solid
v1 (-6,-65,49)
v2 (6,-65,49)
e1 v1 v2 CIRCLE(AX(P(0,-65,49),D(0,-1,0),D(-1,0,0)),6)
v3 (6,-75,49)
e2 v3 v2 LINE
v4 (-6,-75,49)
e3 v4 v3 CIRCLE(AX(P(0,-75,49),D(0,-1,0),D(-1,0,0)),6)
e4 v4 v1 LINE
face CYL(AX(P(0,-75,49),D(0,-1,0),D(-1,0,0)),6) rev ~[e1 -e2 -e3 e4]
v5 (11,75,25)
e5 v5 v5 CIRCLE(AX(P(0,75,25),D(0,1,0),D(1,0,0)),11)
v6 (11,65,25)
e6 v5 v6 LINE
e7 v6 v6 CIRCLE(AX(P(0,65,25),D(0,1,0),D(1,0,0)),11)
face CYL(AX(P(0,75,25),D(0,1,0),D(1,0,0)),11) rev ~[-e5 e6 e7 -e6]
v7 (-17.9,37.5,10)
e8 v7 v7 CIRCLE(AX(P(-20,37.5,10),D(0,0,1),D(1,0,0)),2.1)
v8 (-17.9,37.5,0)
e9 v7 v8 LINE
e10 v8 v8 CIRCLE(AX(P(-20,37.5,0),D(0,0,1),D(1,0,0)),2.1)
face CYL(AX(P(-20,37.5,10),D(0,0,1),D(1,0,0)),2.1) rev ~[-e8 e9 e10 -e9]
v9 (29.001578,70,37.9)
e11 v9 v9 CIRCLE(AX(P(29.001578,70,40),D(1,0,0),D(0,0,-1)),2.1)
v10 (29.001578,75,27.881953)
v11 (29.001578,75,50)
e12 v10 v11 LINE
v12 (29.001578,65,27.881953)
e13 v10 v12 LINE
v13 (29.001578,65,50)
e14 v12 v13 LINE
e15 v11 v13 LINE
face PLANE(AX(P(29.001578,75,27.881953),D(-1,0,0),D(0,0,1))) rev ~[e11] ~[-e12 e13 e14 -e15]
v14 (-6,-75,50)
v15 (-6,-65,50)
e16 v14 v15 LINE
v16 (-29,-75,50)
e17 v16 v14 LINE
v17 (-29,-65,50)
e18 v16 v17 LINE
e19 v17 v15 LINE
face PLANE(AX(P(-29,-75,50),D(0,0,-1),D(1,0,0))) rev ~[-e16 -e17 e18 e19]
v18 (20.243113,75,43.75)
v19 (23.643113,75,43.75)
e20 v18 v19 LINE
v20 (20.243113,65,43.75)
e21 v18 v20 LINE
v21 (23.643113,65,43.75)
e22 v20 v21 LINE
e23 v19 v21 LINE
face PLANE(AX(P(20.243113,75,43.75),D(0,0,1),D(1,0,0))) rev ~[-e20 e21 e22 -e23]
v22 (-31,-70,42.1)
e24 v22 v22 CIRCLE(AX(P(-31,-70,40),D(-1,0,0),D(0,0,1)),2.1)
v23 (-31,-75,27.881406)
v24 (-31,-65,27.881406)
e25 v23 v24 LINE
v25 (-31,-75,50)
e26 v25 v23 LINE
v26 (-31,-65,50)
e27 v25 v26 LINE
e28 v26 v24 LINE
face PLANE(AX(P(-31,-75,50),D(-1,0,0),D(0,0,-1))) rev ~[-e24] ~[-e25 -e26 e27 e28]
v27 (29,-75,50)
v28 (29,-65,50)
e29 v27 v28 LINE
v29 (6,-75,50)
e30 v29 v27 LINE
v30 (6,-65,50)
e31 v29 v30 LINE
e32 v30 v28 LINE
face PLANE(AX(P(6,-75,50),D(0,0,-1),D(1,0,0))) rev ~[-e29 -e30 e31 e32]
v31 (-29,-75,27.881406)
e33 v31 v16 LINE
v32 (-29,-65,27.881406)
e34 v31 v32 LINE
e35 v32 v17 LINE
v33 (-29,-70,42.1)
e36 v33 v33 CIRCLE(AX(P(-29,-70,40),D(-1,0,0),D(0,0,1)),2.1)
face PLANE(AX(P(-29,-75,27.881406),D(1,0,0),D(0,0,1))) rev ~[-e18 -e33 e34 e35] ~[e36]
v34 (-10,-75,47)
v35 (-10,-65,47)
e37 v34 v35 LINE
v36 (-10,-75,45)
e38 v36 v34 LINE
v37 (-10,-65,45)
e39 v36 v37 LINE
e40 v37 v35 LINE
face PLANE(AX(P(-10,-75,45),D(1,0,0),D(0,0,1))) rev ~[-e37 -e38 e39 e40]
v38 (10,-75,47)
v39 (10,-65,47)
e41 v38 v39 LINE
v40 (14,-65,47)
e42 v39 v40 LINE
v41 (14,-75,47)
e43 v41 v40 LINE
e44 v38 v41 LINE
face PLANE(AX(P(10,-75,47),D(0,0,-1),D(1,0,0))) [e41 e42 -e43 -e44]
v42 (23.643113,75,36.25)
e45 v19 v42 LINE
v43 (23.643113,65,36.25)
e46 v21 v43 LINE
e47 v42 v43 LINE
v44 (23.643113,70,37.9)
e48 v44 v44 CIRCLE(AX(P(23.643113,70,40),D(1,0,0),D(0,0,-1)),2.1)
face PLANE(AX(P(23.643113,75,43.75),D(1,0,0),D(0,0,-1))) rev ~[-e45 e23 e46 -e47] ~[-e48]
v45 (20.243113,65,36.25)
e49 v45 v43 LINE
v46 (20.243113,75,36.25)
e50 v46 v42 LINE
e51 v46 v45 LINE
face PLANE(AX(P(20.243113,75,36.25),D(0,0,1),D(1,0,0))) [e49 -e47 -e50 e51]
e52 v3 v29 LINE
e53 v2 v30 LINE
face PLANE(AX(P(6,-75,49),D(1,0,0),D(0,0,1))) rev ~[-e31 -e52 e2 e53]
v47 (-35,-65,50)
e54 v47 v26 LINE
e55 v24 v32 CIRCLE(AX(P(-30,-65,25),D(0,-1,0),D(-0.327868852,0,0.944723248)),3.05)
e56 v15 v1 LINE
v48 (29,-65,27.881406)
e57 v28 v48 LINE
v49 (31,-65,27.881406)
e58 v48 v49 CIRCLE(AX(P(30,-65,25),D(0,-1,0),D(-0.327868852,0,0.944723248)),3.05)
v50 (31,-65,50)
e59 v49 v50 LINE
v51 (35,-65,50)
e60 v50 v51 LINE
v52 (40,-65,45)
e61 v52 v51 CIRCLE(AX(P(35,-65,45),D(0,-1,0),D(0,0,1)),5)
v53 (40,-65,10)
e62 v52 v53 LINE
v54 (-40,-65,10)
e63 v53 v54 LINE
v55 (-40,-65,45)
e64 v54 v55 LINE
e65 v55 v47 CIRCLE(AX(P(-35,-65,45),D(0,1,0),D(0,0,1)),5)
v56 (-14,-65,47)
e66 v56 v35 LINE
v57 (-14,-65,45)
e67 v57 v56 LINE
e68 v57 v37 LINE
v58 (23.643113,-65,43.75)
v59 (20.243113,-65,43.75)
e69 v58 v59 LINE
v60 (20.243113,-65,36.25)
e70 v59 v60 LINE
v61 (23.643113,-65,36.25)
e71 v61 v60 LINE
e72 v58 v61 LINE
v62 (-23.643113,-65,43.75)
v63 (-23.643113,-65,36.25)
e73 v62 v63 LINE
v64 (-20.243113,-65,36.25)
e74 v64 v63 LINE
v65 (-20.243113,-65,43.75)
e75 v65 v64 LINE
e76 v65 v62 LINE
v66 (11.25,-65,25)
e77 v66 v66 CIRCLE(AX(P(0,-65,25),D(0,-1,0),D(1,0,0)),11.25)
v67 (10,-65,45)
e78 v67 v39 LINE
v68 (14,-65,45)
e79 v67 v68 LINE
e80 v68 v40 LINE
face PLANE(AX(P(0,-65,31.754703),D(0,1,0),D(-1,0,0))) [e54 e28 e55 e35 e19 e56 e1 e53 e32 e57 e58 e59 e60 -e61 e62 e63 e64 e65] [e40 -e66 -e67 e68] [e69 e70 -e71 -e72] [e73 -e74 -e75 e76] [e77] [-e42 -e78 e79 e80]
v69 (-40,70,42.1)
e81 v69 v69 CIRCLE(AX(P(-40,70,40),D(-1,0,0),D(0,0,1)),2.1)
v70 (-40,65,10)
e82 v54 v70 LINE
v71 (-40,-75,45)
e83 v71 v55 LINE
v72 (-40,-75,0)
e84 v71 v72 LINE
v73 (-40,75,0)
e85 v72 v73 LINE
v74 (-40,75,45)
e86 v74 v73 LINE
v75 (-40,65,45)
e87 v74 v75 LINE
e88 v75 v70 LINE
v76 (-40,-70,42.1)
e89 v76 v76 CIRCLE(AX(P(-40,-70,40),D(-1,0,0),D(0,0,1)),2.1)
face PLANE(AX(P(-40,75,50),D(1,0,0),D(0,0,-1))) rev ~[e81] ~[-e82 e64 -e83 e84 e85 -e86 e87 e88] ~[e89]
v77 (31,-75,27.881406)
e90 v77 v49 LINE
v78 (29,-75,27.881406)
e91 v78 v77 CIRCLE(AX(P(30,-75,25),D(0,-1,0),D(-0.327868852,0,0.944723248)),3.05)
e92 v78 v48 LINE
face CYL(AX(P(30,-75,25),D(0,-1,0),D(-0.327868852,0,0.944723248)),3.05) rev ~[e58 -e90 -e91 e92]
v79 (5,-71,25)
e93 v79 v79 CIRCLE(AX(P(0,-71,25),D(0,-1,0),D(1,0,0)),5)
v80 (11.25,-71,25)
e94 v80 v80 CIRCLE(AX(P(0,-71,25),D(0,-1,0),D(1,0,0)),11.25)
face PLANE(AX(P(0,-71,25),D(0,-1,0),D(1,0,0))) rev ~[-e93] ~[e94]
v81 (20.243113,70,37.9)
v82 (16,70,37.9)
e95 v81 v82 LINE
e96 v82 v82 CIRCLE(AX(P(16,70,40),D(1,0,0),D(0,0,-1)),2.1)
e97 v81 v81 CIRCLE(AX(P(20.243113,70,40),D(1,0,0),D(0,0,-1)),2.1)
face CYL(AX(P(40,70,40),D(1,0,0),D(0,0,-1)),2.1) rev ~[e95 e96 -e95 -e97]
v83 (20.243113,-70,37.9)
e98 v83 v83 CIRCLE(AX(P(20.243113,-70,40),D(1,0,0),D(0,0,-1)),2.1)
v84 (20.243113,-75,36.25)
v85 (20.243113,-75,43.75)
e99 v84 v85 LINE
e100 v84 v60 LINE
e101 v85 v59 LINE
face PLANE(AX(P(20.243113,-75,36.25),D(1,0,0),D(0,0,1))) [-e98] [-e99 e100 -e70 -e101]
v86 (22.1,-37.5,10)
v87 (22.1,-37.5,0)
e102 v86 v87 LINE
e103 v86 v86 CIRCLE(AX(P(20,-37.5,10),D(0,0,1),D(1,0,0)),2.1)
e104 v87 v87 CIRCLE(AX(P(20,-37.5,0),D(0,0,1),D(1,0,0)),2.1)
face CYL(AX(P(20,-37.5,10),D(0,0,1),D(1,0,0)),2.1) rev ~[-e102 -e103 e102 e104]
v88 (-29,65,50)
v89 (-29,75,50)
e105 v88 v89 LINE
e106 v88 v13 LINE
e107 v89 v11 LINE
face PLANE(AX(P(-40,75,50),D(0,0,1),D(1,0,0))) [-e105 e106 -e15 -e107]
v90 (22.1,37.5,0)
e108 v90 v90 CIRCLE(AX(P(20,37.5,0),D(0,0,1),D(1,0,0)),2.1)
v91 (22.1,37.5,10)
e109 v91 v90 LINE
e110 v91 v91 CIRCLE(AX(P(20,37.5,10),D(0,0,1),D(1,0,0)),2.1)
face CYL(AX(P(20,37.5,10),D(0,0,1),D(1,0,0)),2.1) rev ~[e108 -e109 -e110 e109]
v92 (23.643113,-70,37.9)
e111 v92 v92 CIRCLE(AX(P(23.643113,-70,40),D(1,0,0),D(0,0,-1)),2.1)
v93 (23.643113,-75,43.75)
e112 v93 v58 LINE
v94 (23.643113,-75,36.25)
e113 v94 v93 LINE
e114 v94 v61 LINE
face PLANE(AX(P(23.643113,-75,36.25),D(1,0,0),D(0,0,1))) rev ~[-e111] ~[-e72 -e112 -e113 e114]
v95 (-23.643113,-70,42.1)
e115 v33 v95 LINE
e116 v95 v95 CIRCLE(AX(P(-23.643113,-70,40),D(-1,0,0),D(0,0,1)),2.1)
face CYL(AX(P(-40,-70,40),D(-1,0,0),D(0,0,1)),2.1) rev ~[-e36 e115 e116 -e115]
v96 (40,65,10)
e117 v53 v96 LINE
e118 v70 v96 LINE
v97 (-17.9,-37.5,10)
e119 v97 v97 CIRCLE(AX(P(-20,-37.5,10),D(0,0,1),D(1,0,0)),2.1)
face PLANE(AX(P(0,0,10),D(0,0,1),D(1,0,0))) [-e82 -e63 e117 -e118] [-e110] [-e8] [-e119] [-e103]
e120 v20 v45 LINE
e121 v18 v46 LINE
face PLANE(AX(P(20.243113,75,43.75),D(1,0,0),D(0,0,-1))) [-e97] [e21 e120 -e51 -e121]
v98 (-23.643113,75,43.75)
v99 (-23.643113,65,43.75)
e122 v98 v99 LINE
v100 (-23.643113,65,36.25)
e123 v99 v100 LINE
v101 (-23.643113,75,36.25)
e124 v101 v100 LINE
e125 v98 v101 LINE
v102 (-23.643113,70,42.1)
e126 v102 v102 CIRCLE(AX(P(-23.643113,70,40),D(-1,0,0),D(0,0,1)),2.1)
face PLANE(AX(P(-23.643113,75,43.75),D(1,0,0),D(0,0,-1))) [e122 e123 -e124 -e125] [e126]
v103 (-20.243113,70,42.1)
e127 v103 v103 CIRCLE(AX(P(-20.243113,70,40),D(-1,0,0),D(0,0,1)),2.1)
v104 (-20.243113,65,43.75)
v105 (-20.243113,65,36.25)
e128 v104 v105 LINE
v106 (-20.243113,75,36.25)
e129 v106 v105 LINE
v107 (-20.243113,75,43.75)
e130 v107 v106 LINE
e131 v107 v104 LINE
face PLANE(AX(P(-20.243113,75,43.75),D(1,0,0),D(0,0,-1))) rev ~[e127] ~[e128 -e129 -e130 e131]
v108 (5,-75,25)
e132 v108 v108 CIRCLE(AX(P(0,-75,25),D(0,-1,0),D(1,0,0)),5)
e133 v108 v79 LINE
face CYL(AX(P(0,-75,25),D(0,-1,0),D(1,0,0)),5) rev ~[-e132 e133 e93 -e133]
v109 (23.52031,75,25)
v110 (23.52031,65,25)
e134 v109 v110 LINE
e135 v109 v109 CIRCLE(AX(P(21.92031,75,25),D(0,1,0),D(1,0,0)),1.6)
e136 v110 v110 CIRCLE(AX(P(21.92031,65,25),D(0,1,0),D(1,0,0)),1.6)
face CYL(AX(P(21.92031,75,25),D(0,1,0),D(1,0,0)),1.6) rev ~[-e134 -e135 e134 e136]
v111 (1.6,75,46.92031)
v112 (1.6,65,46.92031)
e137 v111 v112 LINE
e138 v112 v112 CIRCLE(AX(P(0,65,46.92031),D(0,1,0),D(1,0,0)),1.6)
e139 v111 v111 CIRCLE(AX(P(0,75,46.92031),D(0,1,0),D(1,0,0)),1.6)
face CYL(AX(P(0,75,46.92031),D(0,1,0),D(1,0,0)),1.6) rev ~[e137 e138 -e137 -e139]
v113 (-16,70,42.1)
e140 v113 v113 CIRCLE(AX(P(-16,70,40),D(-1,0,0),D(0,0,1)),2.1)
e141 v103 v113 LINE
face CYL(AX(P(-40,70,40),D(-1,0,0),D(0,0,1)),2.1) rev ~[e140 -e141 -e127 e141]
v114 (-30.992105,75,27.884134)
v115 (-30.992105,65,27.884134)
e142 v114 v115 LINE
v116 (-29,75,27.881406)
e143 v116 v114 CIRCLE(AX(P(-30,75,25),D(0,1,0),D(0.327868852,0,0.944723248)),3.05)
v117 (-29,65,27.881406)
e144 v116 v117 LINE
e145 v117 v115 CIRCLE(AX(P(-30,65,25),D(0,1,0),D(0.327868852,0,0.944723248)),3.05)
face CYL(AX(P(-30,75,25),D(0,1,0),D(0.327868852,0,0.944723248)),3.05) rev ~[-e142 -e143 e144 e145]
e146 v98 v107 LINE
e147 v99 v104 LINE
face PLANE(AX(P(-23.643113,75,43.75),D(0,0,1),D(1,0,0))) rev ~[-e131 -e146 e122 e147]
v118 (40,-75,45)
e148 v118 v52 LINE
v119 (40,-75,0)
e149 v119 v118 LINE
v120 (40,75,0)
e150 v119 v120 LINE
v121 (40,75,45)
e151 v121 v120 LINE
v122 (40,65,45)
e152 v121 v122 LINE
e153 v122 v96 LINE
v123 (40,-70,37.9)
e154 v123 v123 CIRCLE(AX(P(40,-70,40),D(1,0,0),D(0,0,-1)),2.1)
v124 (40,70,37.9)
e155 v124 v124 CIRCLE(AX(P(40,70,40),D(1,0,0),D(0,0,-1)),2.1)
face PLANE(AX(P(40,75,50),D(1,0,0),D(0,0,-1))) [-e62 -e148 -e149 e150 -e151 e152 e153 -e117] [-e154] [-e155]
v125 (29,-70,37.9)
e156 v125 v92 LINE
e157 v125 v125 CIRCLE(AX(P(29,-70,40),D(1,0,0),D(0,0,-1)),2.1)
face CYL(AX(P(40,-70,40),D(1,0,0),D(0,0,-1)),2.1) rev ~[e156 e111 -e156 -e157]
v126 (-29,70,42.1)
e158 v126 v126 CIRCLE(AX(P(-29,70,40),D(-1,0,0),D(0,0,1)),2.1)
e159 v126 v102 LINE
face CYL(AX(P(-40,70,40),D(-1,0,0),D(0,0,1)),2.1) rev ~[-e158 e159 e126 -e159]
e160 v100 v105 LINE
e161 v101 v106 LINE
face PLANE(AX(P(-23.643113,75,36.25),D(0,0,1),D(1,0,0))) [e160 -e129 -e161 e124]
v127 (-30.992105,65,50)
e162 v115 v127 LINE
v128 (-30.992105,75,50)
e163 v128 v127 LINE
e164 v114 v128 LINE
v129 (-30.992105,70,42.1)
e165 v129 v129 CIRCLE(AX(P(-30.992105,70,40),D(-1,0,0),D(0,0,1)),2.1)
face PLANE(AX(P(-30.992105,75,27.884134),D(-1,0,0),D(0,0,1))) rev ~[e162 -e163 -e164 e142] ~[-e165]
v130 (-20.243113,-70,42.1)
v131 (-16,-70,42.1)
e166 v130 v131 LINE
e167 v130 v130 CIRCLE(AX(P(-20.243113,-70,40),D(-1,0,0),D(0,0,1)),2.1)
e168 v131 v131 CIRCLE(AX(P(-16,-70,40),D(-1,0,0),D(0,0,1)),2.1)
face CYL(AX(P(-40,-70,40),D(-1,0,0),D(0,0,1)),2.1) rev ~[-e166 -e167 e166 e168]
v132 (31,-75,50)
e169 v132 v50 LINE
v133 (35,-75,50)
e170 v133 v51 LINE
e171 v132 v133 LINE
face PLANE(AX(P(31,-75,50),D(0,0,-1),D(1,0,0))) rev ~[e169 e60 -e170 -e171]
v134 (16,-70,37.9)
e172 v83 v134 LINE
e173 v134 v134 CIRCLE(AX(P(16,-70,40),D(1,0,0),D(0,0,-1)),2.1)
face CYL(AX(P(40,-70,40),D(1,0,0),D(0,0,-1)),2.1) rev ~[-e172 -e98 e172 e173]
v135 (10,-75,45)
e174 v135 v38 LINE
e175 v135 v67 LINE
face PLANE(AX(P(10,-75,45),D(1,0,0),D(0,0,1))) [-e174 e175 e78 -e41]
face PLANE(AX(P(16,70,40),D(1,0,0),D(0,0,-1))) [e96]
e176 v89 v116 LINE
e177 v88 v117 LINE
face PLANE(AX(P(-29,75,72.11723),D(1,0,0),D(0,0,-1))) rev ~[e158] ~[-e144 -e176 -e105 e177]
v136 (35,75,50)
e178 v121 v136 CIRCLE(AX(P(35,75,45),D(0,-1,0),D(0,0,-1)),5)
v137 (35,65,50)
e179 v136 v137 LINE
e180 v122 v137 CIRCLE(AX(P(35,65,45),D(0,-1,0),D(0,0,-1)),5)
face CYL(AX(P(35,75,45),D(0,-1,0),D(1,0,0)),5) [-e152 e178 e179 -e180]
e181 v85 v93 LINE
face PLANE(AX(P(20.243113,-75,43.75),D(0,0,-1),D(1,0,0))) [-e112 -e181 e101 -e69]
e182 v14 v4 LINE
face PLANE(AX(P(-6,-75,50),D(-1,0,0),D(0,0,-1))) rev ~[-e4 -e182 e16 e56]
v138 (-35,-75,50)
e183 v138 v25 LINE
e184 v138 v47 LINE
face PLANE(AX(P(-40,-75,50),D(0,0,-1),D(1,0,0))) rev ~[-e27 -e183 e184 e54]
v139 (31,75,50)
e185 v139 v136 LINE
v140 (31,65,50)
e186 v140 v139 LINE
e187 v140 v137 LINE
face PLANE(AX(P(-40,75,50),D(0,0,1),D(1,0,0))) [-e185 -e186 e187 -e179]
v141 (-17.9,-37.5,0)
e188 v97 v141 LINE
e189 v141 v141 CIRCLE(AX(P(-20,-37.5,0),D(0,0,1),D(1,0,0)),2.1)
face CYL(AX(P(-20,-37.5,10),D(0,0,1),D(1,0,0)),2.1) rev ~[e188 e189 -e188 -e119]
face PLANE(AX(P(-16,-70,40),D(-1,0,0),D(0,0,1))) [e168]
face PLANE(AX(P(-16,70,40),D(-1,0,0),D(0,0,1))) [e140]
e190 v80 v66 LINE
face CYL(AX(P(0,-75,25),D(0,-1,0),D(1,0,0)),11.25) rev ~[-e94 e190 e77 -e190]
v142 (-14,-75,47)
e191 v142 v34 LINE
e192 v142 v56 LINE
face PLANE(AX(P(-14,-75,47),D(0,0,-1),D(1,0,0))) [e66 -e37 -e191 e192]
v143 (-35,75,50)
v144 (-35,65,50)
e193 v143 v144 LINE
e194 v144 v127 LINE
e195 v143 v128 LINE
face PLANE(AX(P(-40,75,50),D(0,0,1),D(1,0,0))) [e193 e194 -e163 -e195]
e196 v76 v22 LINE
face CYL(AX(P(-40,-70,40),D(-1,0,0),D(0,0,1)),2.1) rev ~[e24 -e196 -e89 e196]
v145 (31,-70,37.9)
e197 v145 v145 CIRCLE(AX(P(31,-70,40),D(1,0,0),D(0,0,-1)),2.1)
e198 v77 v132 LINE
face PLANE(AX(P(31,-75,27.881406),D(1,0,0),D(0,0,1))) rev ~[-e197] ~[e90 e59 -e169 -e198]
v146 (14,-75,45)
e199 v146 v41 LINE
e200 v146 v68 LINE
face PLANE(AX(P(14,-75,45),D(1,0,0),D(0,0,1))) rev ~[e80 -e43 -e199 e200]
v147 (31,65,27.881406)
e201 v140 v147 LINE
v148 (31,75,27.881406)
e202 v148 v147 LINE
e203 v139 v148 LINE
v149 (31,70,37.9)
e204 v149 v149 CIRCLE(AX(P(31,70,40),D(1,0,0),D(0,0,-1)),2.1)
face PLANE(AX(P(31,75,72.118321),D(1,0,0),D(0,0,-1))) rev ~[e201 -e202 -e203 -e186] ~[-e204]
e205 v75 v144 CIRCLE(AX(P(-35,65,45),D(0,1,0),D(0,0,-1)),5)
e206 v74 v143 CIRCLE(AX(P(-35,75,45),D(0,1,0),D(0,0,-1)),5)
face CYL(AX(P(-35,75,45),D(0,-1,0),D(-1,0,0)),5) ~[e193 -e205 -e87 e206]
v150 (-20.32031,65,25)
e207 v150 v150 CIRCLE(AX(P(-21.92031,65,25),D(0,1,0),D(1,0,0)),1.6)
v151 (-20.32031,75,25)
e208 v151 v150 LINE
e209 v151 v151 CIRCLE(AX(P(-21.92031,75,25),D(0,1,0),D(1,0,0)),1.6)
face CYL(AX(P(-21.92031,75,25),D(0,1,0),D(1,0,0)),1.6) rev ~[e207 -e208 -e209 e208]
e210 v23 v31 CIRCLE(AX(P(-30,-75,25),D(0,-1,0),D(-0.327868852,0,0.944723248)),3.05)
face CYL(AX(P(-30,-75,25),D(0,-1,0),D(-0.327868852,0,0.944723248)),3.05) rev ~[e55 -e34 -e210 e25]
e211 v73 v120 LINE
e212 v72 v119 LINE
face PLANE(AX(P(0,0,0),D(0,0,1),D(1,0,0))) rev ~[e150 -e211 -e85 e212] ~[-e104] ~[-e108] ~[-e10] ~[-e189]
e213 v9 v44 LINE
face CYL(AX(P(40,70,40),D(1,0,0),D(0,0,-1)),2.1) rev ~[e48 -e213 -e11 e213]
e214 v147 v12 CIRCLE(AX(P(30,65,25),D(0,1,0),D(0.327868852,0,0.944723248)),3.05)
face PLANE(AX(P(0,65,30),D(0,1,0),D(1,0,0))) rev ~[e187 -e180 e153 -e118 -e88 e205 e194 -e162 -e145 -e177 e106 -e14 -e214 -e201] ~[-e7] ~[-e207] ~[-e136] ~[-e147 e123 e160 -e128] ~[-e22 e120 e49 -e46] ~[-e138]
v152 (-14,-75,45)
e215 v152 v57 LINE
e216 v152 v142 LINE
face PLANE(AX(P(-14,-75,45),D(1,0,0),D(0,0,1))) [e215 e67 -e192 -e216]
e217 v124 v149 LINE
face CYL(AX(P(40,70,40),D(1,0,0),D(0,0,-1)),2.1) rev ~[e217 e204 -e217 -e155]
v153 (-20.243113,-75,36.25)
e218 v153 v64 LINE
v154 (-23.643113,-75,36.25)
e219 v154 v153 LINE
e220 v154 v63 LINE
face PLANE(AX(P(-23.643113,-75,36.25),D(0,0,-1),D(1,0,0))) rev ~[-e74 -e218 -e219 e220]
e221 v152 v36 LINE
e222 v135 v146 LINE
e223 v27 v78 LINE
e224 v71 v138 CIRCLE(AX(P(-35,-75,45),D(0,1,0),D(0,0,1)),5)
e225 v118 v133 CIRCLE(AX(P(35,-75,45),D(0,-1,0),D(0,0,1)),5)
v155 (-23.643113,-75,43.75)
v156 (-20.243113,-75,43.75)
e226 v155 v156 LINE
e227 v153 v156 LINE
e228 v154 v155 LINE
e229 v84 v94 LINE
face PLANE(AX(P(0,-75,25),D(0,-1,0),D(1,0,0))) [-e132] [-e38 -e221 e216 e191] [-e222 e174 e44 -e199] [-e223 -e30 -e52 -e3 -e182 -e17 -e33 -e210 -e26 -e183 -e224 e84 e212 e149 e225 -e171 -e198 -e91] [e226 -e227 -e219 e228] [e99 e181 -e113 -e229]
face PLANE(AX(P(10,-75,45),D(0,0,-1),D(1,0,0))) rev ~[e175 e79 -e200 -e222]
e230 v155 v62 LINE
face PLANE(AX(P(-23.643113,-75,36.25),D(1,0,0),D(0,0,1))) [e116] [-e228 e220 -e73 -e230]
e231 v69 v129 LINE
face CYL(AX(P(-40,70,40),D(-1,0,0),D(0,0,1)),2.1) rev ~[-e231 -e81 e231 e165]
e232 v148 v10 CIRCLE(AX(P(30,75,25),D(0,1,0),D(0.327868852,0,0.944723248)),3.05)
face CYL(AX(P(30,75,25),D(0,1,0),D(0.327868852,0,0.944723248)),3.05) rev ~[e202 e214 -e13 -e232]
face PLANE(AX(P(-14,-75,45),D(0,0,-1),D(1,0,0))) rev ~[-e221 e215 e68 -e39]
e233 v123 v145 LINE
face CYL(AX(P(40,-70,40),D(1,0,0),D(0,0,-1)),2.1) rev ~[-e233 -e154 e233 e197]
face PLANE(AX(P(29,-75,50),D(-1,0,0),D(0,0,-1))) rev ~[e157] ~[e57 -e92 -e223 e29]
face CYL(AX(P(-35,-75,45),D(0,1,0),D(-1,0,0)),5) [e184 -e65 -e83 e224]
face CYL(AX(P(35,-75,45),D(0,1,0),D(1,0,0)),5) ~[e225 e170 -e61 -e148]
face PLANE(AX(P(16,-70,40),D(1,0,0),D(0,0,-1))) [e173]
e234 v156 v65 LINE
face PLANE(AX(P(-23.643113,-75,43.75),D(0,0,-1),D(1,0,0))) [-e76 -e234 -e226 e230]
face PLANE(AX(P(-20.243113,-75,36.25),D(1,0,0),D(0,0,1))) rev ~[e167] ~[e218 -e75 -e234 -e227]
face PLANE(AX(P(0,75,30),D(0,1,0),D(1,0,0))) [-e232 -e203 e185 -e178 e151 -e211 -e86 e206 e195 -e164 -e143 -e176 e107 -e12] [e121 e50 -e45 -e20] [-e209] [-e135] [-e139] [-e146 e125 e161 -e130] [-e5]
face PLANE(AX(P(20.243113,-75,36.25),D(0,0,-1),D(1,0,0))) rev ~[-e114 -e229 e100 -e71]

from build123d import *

# Parameters (mm, degrees)
SKETCH_1_W           = 80
SKETCH_1_H           = 150
EXTRUDE_1_DEPTH      = 10
SKETCH_4_R           = 11.25
EXTRUDE_3_DEPTH      = 10
SKETCH_5_R           = 11.25
SKETCH_5_R_2         = 5
EXTRUDE_4_DEPTH      = 4
SKETCH_6_R           = 2.1
CUT_EXTRUDE_1_DEPTH  = 24
SKETCH_7_W           = 3.4
SKETCH_7_H           = 7.5
CUT_EXTRUDE_2_DEPTH  = 24
SKETCH_8_R           = 2.1
CUT_EXTRUDE_3_DEPTH  = 24
SKETCH_9_W           = 80
SKETCH_9_H           = 40
SKETCH_9_R           = 11
SKETCH_9_R_2         = 1.6
EXTRUDE_5_DEPTH      = 10
FILLET_1_R           = 5
SKETCH_10_W          = 3.4
SKETCH_10_H          = 7.5
CUT_EXTRUDE_5_DEPTH  = 10
SKETCH_11_R          = 2.1
CUT_EXTRUDE_6_DEPTH  = 24
SKETCH_12_R          = 2.1
CUT_EXTRUDE_7_DEPTH  = 24
SKETCH_14_W          = 4
SKETCH_14_H          = 2
CUT_EXTRUDE_9_DEPTH  = 10
SKETCH_16_R          = 2.1
CUT_EXTRUDE_10_DEPTH = 11


with BuildPart() as part:
    # 草圖1 → 填料-伸長1 (new body)
    with BuildSketch(Plane.XY):
        Rectangle(SKETCH_1_W, SKETCH_1_H)
    extrude(amount=EXTRUDE_1_DEPTH)

    # 草圖4 → 填料-伸長3 (add)
    with BuildSketch(Plane.XZ.offset(75)):
        with BuildLine():
            ThreePointArc((-6, 49), (0, 43), (6, 49))
            Line((6, 49), (6, 50))
            Line((6, 50), (29, 50))
            Line((29, 50), (29, 27.881405907))
            ThreePointArc((29, 27.881405907), (30, 21.95), (31, 27.881405907))
            Line((31, 27.881405907), (31, 50))
            Line((31, 50), (40, 50))
            Line((40, 50), (40, 10))
            Line((40, 10), (-40, 10))
            Line((-40, 10), (-40, 50))
            Line((-40, 50), (-31, 50))
            Line((-31, 50), (-31, 27.881405907))
            ThreePointArc((-31, 27.881405907), (-30, 21.95), (-29, 27.881405907))
            Line((-29, 27.881405907), (-29, 50))
            Line((-29, 50), (-6, 50))
            Line((-6, 50), (-6, 49))
        make_face()
        with Locations((0, 25)):
            Circle(SKETCH_4_R, mode=Mode.SUBTRACT)
    extrude(amount=-EXTRUDE_3_DEPTH)

    # 草圖5 → 填料-伸長4 (add)
    with BuildSketch(Plane.XZ.offset(75)):
        with Locations((0, 25)):
            Circle(SKETCH_5_R)
        with Locations((0, 25)):
            Circle(SKETCH_5_R_2, mode=Mode.SUBTRACT)
    extrude(amount=-EXTRUDE_4_DEPTH)

    # 草圖6 → 除料-伸長1 (cut)
    with BuildSketch(Plane(origin=(40, 0, 0), x_dir=(0, 0, -1), z_dir=(1, 0, 0))):
        with Locations((-40, -70)):
            Circle(SKETCH_6_R)
    extrude(amount=-CUT_EXTRUDE_1_DEPTH, mode=Mode.SUBTRACT)

    # 草圖7 → 除料-伸長2 (cut)
    with BuildSketch(Plane.XZ.offset(75)):
        with Locations((-21.943112787, 40)):
            Rectangle(SKETCH_7_W, SKETCH_7_H)
        with Locations((21.943112787, 40)):
            Rectangle(SKETCH_7_W, SKETCH_7_H)
    extrude(amount=-CUT_EXTRUDE_2_DEPTH, mode=Mode.SUBTRACT)

    # 草圖8 → 除料-伸長3 (cut)
    with BuildSketch(Plane.ZY.offset(40)):
        with Locations((40, -70)):
            Circle(SKETCH_8_R)
    extrude(amount=-CUT_EXTRUDE_3_DEPTH, mode=Mode.SUBTRACT)

    # 草圖9 → 填料-伸長5 (add)
    with BuildSketch(Plane(origin=(0, 75, 0), x_dir=(1, 0, 0), z_dir=(0, 1, 0))):
        with Locations((0, -30)):
            Rectangle(SKETCH_9_W, SKETCH_9_H)
        with Locations((0, -25)):
            Circle(SKETCH_9_R, mode=Mode.SUBTRACT)
        with Locations((-21.920310217, -25)):
            Circle(SKETCH_9_R_2, mode=Mode.SUBTRACT)
        with Locations((0, -46.920310217)):
            Circle(SKETCH_9_R_2, mode=Mode.SUBTRACT)
        with Locations((21.920310217, -25)):
            Circle(SKETCH_9_R_2, mode=Mode.SUBTRACT)
    extrude(amount=-EXTRUDE_5_DEPTH)

    # 圓角1
    fillet_1_edges = [part.edges().sort_by_distance(p)[0] for p in [
        (40, 70, 50),
        (-40, 70, 50),
        (40, -70, 50),
        (-40, -70, 50),
    ]]
    fillet(fillet_1_edges, radius=FILLET_1_R)

    # 草圖10 → 除料-伸長5 (cut)
    with BuildSketch(Plane(origin=(0, 75, 0), x_dir=(1, 0, 0), z_dir=(0, 1, 0))):
        with BuildLine():
            Line((-30.992105359, -72.117230176), (-29, -72.117230176))
            Line((-29, -72.117230176), (-29, -27.881405907))
            ThreePointArc((-29, -27.881405907), (-30.004176302, -21.950002859), (-30.992105359, -27.884133658))
            Line((-30.992105359, -27.884133658), (-30.992105359, -72.117230176))
        make_face()
        with BuildLine():
            Line((29.001577897, -72.118320527), (31, -72.118320527))
            Line((31, -72.118320527), (31, -27.881405907))
            ThreePointArc((31, -27.881405907), (29.999164969, -21.950000114), (29.001577897, -27.881953036))
            Line((29.001577897, -27.881953036), (29.001577897, -72.118320527))
        make_face()
        with Locations((-21.943112787, -40)):
            Rectangle(SKETCH_10_W, SKETCH_10_H)
        with Locations((21.943112787, -40)):
            Rectangle(SKETCH_10_W, SKETCH_10_H)
    extrude(amount=-CUT_EXTRUDE_5_DEPTH, mode=Mode.SUBTRACT)

    # 草圖11 → 除料-伸長6 (cut)
    with BuildSketch(Plane(origin=(40, 0, 0), x_dir=(0, 0, -1), z_dir=(1, 0, 0))):
        with Locations((-40, 70)):
            Circle(SKETCH_11_R)
    extrude(amount=-CUT_EXTRUDE_6_DEPTH, mode=Mode.SUBTRACT)

    # 草圖12 → 除料-伸長7 (cut)
    with BuildSketch(Plane.ZY.offset(40)):
        with Locations((40, 70)):
            Circle(SKETCH_12_R)
    extrude(amount=-CUT_EXTRUDE_7_DEPTH, mode=Mode.SUBTRACT)

    # 草圖14 → 除料-伸長9 (cut)
    with BuildSketch(Plane.XZ.offset(75)):
        with Locations((-12, 46)):
            Rectangle(SKETCH_14_W, SKETCH_14_H)
        with Locations((12, 46)):
            Rectangle(SKETCH_14_W, SKETCH_14_H)
    extrude(amount=-CUT_EXTRUDE_9_DEPTH, mode=Mode.SUBTRACT)

    # 草圖16 → 除料-伸長10 (cut, through all)
    with BuildSketch(Plane.XY.offset(10)):
        with Locations((-20, 37.5)):
            Circle(SKETCH_16_R)
        with Locations((20, 37.5)):
            Circle(SKETCH_16_R)
        with Locations((20, -37.5)):
            Circle(SKETCH_16_R)
        with Locations((-20, -37.5)):
            Circle(SKETCH_16_R)
    extrude(amount=-CUT_EXTRUDE_10_DEPTH, mode=Mode.SUBTRACT)


solid = part.part
